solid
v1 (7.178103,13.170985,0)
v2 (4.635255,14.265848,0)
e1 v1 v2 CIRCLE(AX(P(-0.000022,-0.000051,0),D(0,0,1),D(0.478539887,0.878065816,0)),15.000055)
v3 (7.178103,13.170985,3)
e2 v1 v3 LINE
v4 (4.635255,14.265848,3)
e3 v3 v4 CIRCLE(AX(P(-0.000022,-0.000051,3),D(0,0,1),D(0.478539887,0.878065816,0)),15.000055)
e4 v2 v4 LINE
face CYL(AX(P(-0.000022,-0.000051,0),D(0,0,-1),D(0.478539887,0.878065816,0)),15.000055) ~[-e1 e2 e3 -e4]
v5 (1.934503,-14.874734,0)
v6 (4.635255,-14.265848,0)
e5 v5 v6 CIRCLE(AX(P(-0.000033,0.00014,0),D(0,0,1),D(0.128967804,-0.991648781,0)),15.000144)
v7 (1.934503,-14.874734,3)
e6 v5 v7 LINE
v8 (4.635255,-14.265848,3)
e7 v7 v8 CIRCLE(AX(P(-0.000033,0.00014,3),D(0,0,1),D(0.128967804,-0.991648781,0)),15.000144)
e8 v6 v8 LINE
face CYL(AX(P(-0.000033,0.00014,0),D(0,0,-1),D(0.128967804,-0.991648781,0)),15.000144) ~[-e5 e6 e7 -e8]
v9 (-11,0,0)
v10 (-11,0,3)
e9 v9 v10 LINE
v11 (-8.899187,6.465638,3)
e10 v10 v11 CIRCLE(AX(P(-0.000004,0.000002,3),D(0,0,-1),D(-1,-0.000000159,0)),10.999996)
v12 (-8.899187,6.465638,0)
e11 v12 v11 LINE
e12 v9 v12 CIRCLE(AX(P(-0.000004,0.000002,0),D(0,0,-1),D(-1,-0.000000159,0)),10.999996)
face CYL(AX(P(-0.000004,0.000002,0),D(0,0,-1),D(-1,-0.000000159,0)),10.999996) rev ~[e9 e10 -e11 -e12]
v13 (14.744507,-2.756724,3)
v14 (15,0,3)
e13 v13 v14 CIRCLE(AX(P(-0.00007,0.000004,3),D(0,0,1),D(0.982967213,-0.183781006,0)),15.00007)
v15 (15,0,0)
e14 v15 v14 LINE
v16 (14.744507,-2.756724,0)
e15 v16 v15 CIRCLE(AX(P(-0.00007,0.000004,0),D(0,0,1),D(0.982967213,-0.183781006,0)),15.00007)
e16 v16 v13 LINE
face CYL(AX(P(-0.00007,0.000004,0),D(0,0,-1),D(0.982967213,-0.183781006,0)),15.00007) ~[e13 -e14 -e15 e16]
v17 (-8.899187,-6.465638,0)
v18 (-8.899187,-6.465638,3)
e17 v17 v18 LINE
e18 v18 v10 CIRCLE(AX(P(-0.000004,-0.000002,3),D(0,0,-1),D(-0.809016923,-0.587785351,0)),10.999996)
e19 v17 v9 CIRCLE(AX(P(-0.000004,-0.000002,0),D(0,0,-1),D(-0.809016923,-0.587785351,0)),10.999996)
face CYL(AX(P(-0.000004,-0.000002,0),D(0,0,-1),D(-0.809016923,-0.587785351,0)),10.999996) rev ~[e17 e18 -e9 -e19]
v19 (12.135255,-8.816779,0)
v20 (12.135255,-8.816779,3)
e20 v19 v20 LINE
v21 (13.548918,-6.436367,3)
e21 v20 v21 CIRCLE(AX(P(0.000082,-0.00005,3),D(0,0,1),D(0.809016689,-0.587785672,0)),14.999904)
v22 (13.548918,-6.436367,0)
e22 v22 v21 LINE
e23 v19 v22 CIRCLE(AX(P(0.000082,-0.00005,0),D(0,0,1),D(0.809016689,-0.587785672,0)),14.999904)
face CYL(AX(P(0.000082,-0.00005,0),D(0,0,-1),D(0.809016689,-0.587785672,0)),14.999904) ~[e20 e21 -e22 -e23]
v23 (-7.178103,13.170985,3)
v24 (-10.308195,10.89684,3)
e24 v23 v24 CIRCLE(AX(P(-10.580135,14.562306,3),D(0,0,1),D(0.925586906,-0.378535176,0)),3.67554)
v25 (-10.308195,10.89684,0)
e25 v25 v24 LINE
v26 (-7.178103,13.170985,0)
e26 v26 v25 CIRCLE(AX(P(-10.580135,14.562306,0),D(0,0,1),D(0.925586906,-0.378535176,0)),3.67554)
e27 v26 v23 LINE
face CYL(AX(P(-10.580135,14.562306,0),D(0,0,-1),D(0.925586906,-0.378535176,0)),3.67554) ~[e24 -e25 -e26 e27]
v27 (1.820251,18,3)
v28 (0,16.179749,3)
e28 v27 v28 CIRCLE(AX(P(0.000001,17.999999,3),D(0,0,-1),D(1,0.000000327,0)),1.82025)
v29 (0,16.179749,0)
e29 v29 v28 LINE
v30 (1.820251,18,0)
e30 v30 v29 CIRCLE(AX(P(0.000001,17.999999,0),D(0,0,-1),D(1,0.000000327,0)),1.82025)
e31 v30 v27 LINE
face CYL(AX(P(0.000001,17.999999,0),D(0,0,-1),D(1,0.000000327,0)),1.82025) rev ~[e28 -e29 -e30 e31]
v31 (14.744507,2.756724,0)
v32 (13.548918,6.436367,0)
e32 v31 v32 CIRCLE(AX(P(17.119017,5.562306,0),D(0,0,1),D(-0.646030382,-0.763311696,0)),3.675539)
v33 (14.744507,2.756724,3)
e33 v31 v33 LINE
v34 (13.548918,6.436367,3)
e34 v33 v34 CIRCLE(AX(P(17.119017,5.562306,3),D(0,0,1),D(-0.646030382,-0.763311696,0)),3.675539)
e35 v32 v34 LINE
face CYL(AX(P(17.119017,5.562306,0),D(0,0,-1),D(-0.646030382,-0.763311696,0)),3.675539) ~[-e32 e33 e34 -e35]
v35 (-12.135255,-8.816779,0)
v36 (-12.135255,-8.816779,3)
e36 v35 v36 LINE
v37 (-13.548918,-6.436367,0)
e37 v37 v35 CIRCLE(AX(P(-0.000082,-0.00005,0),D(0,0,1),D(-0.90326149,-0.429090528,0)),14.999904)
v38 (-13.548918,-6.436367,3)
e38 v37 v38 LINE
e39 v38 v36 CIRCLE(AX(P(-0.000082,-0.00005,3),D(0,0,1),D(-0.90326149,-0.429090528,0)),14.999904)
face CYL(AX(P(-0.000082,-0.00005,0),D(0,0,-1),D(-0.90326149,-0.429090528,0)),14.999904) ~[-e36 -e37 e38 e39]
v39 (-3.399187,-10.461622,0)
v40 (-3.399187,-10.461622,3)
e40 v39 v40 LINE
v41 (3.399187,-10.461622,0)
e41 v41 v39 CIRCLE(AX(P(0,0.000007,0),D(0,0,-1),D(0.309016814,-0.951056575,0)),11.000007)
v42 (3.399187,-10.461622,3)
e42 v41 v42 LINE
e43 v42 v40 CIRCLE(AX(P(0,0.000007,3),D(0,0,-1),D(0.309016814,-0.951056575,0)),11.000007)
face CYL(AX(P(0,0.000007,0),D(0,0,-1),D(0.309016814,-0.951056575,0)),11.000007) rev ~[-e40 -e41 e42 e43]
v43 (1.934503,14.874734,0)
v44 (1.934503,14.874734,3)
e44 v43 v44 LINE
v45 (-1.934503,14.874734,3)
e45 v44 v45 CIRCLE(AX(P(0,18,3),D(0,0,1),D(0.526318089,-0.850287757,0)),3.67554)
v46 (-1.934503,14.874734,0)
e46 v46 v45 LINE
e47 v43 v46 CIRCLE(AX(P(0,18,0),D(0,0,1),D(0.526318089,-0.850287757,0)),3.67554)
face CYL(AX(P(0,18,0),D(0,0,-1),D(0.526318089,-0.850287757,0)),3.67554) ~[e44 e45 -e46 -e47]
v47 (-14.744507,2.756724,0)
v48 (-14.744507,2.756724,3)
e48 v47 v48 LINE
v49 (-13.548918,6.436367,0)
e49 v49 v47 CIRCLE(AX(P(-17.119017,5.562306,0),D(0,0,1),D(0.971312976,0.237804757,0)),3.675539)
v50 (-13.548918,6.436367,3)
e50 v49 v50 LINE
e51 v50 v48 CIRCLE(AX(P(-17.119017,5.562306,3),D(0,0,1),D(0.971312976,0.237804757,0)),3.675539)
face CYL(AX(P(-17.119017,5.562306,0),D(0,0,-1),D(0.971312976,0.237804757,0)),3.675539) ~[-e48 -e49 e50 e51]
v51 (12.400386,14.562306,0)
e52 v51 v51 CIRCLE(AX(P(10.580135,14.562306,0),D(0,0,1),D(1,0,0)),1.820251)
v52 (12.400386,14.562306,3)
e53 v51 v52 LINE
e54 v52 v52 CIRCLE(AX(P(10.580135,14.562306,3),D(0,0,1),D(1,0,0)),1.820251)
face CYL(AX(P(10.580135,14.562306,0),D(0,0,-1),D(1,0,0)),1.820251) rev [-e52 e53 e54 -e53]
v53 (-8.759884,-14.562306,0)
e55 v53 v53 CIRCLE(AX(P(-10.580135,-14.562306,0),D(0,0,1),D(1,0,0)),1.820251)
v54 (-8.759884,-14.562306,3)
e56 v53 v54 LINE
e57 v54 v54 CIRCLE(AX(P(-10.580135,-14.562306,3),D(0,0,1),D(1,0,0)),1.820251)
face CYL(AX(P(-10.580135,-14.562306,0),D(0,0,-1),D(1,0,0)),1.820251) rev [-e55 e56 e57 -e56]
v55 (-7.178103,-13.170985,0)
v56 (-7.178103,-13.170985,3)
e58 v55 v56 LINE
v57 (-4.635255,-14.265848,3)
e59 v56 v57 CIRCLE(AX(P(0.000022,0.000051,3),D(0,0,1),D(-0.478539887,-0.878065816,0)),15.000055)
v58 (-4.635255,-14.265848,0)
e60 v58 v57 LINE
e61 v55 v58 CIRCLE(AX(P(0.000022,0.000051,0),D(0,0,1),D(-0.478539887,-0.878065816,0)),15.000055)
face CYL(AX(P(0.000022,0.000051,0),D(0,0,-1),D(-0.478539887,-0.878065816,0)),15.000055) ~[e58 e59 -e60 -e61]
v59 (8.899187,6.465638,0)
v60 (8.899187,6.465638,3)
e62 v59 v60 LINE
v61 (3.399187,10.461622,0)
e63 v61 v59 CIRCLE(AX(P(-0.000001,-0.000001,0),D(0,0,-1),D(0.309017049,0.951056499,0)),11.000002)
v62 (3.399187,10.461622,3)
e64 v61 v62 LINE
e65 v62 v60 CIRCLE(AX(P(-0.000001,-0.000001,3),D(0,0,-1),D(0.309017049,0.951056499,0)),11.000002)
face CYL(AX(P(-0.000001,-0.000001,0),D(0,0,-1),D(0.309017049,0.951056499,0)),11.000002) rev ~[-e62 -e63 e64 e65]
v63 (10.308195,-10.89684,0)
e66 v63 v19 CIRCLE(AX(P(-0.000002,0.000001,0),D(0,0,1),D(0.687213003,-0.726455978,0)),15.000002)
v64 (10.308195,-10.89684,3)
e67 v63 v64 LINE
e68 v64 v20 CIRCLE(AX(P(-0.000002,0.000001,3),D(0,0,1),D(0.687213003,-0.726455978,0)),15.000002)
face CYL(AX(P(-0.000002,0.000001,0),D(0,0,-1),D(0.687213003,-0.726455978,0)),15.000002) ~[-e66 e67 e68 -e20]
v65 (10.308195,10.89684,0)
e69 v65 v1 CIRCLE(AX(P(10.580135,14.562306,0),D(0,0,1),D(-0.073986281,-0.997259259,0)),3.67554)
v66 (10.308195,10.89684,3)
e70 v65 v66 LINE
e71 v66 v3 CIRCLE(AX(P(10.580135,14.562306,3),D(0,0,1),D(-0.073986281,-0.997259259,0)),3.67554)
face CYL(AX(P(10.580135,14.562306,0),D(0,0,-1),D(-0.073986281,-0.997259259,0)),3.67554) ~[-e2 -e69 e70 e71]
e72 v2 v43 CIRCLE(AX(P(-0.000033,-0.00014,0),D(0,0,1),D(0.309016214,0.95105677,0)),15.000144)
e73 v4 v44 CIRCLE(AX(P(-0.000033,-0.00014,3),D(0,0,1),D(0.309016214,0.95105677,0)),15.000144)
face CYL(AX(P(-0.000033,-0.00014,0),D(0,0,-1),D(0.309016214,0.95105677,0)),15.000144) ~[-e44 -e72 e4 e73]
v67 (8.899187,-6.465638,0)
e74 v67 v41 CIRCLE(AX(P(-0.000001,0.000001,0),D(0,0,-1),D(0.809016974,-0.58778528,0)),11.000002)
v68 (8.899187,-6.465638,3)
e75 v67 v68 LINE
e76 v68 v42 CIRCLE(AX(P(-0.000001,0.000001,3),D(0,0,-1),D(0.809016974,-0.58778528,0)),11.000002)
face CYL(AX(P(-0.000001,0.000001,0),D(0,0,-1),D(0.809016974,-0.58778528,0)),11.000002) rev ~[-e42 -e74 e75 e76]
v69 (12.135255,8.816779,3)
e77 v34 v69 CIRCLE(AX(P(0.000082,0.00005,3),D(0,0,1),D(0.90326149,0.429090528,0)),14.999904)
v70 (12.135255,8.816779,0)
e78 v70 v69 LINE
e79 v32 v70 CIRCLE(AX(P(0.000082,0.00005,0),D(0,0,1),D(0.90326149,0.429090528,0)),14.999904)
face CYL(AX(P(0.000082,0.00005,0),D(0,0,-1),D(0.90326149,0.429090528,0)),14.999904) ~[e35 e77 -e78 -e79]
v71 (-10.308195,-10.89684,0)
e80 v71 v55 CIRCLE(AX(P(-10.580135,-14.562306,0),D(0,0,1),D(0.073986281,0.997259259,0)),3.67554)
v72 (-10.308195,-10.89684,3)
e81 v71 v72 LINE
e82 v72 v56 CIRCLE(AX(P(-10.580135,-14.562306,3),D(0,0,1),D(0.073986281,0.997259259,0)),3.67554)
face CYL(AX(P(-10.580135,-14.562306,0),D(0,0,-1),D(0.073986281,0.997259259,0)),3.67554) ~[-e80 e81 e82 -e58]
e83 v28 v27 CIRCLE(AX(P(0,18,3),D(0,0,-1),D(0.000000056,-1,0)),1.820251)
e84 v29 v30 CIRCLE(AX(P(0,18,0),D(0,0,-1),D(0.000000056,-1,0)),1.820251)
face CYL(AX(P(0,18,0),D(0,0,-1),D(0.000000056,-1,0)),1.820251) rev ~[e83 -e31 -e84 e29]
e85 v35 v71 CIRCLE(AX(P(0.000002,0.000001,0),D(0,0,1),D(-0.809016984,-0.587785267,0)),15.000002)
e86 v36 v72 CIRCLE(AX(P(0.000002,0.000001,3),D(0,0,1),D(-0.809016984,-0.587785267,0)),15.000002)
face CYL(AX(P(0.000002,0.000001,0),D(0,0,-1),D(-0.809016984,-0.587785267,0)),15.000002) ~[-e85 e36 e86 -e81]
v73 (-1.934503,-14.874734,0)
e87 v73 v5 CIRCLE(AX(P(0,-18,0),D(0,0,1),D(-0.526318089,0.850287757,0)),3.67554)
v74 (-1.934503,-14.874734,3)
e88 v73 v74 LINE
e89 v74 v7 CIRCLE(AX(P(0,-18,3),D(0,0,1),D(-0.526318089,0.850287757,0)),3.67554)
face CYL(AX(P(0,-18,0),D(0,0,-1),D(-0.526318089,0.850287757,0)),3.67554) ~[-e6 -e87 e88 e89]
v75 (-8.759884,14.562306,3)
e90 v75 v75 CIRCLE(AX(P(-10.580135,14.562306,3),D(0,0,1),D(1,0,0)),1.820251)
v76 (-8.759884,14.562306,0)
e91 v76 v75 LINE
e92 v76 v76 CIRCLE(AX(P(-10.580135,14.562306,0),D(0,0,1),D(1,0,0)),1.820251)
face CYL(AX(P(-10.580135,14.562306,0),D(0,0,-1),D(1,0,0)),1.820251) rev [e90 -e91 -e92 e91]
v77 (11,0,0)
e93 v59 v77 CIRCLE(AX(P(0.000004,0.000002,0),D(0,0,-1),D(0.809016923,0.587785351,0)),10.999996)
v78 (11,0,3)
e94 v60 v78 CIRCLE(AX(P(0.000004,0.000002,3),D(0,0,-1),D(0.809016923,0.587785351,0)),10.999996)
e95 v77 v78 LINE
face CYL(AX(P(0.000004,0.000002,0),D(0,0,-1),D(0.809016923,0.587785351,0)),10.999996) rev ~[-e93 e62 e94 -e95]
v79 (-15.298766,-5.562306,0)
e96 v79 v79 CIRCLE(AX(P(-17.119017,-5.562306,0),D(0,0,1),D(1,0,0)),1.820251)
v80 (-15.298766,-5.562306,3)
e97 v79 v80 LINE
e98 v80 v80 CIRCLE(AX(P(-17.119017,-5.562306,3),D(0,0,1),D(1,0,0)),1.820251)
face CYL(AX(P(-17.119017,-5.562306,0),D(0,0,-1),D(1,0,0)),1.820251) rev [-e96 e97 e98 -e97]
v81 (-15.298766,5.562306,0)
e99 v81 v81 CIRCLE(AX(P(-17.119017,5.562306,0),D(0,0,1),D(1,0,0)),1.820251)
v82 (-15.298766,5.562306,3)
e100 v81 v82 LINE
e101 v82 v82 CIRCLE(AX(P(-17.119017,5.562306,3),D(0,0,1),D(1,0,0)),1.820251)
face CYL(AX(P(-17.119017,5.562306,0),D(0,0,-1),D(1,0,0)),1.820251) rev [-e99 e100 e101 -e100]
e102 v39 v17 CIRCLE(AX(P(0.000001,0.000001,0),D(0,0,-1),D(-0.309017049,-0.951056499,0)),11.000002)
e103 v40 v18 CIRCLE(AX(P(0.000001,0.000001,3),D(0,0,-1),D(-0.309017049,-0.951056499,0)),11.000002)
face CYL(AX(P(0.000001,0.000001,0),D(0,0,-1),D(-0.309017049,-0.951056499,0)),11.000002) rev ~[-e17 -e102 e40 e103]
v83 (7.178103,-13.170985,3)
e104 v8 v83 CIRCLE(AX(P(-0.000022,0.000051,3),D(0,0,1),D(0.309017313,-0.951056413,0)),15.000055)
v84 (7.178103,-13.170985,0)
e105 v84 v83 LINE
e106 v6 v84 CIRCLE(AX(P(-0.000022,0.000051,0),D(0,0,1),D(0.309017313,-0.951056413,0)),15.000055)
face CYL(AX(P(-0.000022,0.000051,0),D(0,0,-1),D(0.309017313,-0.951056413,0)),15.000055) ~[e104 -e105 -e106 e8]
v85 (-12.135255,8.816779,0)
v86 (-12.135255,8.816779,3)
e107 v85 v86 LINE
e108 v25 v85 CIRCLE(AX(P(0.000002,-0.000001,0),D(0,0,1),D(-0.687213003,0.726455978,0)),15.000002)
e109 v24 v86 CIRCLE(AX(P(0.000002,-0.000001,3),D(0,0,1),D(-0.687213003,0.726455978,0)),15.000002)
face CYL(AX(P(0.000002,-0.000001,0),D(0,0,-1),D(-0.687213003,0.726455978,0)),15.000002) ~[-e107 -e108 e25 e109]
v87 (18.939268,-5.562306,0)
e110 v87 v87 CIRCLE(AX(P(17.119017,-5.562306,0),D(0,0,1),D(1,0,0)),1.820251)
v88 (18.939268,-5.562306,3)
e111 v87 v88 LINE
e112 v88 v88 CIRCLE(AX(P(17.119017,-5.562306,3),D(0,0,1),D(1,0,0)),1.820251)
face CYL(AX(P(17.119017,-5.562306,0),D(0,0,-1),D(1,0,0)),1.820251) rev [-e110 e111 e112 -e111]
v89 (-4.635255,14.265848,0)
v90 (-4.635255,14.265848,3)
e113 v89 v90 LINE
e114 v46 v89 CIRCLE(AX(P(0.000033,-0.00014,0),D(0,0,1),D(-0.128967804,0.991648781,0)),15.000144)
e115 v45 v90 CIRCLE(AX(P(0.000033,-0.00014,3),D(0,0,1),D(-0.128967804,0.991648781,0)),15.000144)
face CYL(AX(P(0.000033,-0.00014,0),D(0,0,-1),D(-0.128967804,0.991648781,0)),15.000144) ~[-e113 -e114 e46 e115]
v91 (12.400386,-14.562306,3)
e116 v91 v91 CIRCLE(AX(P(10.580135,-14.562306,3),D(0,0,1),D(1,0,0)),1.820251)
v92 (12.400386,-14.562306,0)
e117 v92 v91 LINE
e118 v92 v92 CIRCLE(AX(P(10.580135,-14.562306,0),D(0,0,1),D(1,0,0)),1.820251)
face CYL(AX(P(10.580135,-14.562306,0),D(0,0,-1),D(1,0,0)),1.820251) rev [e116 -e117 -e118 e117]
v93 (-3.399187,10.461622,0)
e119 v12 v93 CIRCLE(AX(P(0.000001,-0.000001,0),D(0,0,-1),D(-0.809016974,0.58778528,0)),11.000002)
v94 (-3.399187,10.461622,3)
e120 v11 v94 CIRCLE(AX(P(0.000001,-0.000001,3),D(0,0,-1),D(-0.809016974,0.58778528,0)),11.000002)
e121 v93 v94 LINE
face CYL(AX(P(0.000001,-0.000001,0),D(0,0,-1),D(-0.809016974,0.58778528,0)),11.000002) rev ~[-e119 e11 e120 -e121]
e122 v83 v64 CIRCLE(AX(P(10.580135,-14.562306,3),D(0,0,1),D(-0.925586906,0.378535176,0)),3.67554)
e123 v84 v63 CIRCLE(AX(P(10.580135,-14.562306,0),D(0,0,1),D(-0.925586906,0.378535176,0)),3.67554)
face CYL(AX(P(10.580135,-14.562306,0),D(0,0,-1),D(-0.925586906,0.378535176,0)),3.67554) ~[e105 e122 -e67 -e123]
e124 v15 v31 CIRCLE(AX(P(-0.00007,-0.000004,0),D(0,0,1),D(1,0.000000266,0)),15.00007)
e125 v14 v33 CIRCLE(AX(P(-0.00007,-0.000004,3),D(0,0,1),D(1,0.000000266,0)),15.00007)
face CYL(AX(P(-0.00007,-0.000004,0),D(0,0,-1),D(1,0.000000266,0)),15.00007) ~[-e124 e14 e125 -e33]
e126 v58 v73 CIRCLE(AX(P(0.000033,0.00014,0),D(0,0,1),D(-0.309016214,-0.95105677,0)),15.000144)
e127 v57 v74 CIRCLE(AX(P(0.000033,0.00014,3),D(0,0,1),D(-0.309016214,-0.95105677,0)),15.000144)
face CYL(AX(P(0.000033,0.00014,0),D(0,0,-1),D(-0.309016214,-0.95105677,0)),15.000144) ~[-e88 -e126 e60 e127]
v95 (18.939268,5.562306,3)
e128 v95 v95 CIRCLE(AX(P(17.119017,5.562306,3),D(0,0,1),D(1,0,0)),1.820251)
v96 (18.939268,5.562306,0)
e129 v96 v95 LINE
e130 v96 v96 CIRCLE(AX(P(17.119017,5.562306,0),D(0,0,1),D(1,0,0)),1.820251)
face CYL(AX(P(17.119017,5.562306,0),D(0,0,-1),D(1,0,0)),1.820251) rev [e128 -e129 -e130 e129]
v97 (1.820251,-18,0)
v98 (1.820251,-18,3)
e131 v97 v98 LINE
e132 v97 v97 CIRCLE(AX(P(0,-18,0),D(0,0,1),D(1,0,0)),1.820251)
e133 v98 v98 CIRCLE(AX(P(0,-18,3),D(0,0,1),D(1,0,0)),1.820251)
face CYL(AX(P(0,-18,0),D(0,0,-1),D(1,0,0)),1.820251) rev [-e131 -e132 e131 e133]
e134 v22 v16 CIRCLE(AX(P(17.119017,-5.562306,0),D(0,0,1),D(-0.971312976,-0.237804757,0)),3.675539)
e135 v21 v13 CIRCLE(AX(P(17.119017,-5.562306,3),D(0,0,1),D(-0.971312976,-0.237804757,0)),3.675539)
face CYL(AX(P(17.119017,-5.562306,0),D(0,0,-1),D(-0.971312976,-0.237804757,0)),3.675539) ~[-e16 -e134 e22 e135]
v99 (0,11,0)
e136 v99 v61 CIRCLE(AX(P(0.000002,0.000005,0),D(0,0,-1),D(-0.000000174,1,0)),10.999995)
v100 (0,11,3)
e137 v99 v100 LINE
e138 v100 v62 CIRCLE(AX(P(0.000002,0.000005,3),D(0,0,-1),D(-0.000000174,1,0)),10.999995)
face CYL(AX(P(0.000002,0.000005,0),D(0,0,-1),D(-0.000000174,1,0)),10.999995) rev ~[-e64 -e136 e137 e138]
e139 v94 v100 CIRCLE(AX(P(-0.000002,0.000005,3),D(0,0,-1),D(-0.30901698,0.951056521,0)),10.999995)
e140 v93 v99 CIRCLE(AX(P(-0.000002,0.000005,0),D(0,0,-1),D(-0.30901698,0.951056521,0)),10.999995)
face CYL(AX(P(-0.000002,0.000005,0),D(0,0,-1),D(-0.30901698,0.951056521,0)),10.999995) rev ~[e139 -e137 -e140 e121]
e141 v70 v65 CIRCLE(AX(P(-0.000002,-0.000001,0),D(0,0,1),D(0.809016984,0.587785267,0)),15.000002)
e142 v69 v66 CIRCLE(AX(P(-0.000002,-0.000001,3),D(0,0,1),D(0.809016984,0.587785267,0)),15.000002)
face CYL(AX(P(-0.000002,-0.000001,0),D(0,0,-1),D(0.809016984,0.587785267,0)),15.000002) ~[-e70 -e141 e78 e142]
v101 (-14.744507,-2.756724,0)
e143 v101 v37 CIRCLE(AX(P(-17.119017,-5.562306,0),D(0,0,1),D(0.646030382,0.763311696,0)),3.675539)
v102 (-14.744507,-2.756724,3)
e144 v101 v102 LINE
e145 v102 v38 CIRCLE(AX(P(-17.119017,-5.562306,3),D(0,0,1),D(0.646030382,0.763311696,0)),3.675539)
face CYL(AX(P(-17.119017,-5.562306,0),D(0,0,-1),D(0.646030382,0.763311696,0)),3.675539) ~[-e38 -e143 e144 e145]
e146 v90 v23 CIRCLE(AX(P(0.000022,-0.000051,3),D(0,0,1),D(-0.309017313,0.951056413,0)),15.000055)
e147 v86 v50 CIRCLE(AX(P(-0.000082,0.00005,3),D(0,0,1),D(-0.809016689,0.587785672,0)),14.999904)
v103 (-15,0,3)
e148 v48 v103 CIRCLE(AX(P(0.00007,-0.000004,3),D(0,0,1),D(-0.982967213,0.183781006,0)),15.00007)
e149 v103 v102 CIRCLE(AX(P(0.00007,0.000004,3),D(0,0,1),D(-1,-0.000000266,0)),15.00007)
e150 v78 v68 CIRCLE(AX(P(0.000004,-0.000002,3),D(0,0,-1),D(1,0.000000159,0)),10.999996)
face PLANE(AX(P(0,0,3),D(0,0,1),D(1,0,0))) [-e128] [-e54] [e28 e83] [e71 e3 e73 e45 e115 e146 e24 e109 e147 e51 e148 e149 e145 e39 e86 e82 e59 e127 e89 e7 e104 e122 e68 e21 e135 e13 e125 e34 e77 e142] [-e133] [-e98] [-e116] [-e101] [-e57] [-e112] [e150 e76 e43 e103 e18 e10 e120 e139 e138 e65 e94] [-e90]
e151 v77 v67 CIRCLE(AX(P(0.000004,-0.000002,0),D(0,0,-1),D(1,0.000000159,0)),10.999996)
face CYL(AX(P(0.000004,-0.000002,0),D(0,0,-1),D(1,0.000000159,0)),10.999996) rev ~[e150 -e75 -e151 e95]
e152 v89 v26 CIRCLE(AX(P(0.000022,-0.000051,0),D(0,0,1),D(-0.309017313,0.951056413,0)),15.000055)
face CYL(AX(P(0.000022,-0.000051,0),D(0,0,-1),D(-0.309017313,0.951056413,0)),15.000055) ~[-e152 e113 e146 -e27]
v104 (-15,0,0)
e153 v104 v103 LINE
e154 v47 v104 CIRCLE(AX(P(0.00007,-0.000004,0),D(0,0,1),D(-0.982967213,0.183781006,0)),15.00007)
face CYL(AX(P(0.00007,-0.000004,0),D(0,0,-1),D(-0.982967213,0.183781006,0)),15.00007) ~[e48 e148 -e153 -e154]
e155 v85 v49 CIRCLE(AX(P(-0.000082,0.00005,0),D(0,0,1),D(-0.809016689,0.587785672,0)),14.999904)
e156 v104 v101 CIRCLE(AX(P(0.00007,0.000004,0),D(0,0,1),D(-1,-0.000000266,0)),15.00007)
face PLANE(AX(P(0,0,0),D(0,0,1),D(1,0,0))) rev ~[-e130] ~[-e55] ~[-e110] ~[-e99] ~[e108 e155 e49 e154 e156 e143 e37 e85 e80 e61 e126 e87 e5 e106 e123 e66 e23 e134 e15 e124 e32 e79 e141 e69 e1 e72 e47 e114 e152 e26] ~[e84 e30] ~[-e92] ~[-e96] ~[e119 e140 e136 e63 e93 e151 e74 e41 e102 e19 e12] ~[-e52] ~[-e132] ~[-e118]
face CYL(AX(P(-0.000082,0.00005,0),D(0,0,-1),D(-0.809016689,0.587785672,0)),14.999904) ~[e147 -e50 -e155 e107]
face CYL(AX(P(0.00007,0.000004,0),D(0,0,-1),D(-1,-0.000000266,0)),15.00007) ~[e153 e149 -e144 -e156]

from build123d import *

# Parameters (mm, degrees)
F0_R     = 1.820251
F1_DEPTH = 3


with BuildPart() as f1:
    # F0 (on Top) → F1 (new body)
    with BuildSketch(Plane.XY):
        with BuildLine():
            ThreePointArc((7.178103, 13.170985), (5.931993, 13.777208), (4.635255, 14.265848))
            ThreePointArc((4.635255, 14.265848), (3.298957, 14.632733), (1.934503, 14.874734))
            ThreePointArc((1.934503, 14.874734), (0, 21.67554), (-1.934503, 14.874734))
            ThreePointArc((-1.934503, 14.874734), (-3.298957, 14.632733), (-4.635255, 14.265848))
            ThreePointArc((-4.635255, 14.265848), (-5.931993, 13.777208), (-7.178103, 13.170985))
            ThreePointArc((-7.178103, 13.170985), (-12.740563, 17.53588), (-10.308195, 10.89684))
            ThreePointArc((-10.308195, 10.89684), (-11.269817, 9.899052), (-12.135255, 8.816779))
            ThreePointArc((-12.135255, 8.816779), (-12.897123, 7.659258), (-13.548918, 6.436367))
            ThreePointArc((-13.548918, 6.436367), (-20.614663, 6.69811), (-14.744507, 2.756724))
            ThreePointArc((-14.744507, 2.756724), (-14.93599, 1.384269), (-15, 0))
            ThreePointArc((-15, 0), (-14.93599, -1.384269), (-14.744507, -2.756724))
            ThreePointArc((-14.744507, -2.756724), (-20.614663, -6.69811), (-13.548918, -6.436367))
            ThreePointArc((-13.548918, -6.436367), (-12.897123, -7.659258), (-12.135255, -8.816779))
            ThreePointArc((-12.135255, -8.816779), (-11.269817, -9.899052), (-10.308195, -10.89684))
            ThreePointArc((-10.308195, -10.89684), (-12.740563, -17.53588), (-7.178103, -13.170985))
            ThreePointArc((-7.178103, -13.170985), (-5.931993, -13.777208), (-4.635255, -14.265848))
            ThreePointArc((-4.635255, -14.265848), (-3.298957, -14.632733), (-1.934503, -14.874734))
            ThreePointArc((-1.934503, -14.874734), (0, -21.67554), (1.934503, -14.874734))
            ThreePointArc((1.934503, -14.874734), (3.298957, -14.632733), (4.635255, -14.265848))
            ThreePointArc((4.635255, -14.265848), (5.931993, -13.777208), (7.178103, -13.170985))
            ThreePointArc((7.178103, -13.170985), (12.740563, -17.53588), (10.308195, -10.89684))
            ThreePointArc((10.308195, -10.89684), (11.269817, -9.899052), (12.135255, -8.816779))
            ThreePointArc((12.135255, -8.816779), (12.897123, -7.659258), (13.548918, -6.436367))
            ThreePointArc((13.548918, -6.436367), (20.614663, -6.69811), (14.744507, -2.756724))
            ThreePointArc((14.744507, -2.756724), (14.93599, -1.384269), (15, 0))
            ThreePointArc((15, 0), (14.93599, 1.384269), (14.744507, 2.756724))
            ThreePointArc((14.744507, 2.756724), (20.614663, 6.69811), (13.548918, 6.436367))
            ThreePointArc((13.548918, 6.436367), (12.897123, 7.659258), (12.135255, 8.816779))
            ThreePointArc((12.135255, 8.816779), (11.269817, 9.899052), (10.308195, 10.89684))
            ThreePointArc((10.308195, 10.89684), (12.740563, 17.53588), (7.178103, 13.170985))
        make_face()
        with Locations((-10.580135, -14.562306)):
            Circle(F0_R, mode=Mode.SUBTRACT)
        with Locations((-17.119017, -5.562306)):
            Circle(F0_R, mode=Mode.SUBTRACT)
        with Locations((0, -18)):
            Circle(F0_R, mode=Mode.SUBTRACT)
        with Locations((10.580135, -14.562306)):
            Circle(F0_R, mode=Mode.SUBTRACT)
        with Locations((17.119017, -5.562306)):
            Circle(F0_R, mode=Mode.SUBTRACT)
        with Locations((-17.119017, 5.562306)):
            Circle(F0_R, mode=Mode.SUBTRACT)
        with Locations((-10.580135, 14.562306)):
            Circle(F0_R, mode=Mode.SUBTRACT)
        with BuildLine():
            ThreePointArc((0, 11), (1.720779, 10.864572), (3.399187, 10.461622))
            ThreePointArc((3.399187, 10.461622), (6.465638, 8.899187), (8.899187, 6.465638))
            ThreePointArc((8.899187, 6.465638), (10.461622, 3.399187), (11, 0))
            ThreePointArc((11, 0), (10.461622, -3.399187), (8.899187, -6.465638))
            ThreePointArc((8.899187, -6.465638), (6.465638, -8.899187), (3.399187, -10.461622))
            ThreePointArc((3.399187, -10.461622), (0, -11), (-3.399187, -10.461622))
            ThreePointArc((-3.399187, -10.461622), (-6.465638, -8.899187), (-8.899187, -6.465638))
            ThreePointArc((-8.899187, -6.465638), (-10.461622, -3.399187), (-11, 0))
            ThreePointArc((-11, 0), (-10.461622, 3.399187), (-8.899187, 6.465638))
            ThreePointArc((-8.899187, 6.465638), (-6.465638, 8.899187), (-3.399187, 10.461622))
            ThreePointArc((-3.399187, 10.461622), (-1.720779, 10.864572), (0, 11))
        make_face(mode=Mode.SUBTRACT)
        with Locations((17.119017, 5.562306)):
            Circle(F0_R, mode=Mode.SUBTRACT)
        with BuildLine():
            ThreePointArc((0, 16.179749), (-1.287112, 19.287112), (1.820251, 18))
            ThreePointArc((1.820251, 18), (1.287112, 16.712888), (0, 16.179749))
        make_face(mode=Mode.SUBTRACT)
        with Locations((10.580135, 14.562306)):
            Circle(F0_R, mode=Mode.SUBTRACT)
    extrude(amount=F1_DEPTH)


solid = f1.part
